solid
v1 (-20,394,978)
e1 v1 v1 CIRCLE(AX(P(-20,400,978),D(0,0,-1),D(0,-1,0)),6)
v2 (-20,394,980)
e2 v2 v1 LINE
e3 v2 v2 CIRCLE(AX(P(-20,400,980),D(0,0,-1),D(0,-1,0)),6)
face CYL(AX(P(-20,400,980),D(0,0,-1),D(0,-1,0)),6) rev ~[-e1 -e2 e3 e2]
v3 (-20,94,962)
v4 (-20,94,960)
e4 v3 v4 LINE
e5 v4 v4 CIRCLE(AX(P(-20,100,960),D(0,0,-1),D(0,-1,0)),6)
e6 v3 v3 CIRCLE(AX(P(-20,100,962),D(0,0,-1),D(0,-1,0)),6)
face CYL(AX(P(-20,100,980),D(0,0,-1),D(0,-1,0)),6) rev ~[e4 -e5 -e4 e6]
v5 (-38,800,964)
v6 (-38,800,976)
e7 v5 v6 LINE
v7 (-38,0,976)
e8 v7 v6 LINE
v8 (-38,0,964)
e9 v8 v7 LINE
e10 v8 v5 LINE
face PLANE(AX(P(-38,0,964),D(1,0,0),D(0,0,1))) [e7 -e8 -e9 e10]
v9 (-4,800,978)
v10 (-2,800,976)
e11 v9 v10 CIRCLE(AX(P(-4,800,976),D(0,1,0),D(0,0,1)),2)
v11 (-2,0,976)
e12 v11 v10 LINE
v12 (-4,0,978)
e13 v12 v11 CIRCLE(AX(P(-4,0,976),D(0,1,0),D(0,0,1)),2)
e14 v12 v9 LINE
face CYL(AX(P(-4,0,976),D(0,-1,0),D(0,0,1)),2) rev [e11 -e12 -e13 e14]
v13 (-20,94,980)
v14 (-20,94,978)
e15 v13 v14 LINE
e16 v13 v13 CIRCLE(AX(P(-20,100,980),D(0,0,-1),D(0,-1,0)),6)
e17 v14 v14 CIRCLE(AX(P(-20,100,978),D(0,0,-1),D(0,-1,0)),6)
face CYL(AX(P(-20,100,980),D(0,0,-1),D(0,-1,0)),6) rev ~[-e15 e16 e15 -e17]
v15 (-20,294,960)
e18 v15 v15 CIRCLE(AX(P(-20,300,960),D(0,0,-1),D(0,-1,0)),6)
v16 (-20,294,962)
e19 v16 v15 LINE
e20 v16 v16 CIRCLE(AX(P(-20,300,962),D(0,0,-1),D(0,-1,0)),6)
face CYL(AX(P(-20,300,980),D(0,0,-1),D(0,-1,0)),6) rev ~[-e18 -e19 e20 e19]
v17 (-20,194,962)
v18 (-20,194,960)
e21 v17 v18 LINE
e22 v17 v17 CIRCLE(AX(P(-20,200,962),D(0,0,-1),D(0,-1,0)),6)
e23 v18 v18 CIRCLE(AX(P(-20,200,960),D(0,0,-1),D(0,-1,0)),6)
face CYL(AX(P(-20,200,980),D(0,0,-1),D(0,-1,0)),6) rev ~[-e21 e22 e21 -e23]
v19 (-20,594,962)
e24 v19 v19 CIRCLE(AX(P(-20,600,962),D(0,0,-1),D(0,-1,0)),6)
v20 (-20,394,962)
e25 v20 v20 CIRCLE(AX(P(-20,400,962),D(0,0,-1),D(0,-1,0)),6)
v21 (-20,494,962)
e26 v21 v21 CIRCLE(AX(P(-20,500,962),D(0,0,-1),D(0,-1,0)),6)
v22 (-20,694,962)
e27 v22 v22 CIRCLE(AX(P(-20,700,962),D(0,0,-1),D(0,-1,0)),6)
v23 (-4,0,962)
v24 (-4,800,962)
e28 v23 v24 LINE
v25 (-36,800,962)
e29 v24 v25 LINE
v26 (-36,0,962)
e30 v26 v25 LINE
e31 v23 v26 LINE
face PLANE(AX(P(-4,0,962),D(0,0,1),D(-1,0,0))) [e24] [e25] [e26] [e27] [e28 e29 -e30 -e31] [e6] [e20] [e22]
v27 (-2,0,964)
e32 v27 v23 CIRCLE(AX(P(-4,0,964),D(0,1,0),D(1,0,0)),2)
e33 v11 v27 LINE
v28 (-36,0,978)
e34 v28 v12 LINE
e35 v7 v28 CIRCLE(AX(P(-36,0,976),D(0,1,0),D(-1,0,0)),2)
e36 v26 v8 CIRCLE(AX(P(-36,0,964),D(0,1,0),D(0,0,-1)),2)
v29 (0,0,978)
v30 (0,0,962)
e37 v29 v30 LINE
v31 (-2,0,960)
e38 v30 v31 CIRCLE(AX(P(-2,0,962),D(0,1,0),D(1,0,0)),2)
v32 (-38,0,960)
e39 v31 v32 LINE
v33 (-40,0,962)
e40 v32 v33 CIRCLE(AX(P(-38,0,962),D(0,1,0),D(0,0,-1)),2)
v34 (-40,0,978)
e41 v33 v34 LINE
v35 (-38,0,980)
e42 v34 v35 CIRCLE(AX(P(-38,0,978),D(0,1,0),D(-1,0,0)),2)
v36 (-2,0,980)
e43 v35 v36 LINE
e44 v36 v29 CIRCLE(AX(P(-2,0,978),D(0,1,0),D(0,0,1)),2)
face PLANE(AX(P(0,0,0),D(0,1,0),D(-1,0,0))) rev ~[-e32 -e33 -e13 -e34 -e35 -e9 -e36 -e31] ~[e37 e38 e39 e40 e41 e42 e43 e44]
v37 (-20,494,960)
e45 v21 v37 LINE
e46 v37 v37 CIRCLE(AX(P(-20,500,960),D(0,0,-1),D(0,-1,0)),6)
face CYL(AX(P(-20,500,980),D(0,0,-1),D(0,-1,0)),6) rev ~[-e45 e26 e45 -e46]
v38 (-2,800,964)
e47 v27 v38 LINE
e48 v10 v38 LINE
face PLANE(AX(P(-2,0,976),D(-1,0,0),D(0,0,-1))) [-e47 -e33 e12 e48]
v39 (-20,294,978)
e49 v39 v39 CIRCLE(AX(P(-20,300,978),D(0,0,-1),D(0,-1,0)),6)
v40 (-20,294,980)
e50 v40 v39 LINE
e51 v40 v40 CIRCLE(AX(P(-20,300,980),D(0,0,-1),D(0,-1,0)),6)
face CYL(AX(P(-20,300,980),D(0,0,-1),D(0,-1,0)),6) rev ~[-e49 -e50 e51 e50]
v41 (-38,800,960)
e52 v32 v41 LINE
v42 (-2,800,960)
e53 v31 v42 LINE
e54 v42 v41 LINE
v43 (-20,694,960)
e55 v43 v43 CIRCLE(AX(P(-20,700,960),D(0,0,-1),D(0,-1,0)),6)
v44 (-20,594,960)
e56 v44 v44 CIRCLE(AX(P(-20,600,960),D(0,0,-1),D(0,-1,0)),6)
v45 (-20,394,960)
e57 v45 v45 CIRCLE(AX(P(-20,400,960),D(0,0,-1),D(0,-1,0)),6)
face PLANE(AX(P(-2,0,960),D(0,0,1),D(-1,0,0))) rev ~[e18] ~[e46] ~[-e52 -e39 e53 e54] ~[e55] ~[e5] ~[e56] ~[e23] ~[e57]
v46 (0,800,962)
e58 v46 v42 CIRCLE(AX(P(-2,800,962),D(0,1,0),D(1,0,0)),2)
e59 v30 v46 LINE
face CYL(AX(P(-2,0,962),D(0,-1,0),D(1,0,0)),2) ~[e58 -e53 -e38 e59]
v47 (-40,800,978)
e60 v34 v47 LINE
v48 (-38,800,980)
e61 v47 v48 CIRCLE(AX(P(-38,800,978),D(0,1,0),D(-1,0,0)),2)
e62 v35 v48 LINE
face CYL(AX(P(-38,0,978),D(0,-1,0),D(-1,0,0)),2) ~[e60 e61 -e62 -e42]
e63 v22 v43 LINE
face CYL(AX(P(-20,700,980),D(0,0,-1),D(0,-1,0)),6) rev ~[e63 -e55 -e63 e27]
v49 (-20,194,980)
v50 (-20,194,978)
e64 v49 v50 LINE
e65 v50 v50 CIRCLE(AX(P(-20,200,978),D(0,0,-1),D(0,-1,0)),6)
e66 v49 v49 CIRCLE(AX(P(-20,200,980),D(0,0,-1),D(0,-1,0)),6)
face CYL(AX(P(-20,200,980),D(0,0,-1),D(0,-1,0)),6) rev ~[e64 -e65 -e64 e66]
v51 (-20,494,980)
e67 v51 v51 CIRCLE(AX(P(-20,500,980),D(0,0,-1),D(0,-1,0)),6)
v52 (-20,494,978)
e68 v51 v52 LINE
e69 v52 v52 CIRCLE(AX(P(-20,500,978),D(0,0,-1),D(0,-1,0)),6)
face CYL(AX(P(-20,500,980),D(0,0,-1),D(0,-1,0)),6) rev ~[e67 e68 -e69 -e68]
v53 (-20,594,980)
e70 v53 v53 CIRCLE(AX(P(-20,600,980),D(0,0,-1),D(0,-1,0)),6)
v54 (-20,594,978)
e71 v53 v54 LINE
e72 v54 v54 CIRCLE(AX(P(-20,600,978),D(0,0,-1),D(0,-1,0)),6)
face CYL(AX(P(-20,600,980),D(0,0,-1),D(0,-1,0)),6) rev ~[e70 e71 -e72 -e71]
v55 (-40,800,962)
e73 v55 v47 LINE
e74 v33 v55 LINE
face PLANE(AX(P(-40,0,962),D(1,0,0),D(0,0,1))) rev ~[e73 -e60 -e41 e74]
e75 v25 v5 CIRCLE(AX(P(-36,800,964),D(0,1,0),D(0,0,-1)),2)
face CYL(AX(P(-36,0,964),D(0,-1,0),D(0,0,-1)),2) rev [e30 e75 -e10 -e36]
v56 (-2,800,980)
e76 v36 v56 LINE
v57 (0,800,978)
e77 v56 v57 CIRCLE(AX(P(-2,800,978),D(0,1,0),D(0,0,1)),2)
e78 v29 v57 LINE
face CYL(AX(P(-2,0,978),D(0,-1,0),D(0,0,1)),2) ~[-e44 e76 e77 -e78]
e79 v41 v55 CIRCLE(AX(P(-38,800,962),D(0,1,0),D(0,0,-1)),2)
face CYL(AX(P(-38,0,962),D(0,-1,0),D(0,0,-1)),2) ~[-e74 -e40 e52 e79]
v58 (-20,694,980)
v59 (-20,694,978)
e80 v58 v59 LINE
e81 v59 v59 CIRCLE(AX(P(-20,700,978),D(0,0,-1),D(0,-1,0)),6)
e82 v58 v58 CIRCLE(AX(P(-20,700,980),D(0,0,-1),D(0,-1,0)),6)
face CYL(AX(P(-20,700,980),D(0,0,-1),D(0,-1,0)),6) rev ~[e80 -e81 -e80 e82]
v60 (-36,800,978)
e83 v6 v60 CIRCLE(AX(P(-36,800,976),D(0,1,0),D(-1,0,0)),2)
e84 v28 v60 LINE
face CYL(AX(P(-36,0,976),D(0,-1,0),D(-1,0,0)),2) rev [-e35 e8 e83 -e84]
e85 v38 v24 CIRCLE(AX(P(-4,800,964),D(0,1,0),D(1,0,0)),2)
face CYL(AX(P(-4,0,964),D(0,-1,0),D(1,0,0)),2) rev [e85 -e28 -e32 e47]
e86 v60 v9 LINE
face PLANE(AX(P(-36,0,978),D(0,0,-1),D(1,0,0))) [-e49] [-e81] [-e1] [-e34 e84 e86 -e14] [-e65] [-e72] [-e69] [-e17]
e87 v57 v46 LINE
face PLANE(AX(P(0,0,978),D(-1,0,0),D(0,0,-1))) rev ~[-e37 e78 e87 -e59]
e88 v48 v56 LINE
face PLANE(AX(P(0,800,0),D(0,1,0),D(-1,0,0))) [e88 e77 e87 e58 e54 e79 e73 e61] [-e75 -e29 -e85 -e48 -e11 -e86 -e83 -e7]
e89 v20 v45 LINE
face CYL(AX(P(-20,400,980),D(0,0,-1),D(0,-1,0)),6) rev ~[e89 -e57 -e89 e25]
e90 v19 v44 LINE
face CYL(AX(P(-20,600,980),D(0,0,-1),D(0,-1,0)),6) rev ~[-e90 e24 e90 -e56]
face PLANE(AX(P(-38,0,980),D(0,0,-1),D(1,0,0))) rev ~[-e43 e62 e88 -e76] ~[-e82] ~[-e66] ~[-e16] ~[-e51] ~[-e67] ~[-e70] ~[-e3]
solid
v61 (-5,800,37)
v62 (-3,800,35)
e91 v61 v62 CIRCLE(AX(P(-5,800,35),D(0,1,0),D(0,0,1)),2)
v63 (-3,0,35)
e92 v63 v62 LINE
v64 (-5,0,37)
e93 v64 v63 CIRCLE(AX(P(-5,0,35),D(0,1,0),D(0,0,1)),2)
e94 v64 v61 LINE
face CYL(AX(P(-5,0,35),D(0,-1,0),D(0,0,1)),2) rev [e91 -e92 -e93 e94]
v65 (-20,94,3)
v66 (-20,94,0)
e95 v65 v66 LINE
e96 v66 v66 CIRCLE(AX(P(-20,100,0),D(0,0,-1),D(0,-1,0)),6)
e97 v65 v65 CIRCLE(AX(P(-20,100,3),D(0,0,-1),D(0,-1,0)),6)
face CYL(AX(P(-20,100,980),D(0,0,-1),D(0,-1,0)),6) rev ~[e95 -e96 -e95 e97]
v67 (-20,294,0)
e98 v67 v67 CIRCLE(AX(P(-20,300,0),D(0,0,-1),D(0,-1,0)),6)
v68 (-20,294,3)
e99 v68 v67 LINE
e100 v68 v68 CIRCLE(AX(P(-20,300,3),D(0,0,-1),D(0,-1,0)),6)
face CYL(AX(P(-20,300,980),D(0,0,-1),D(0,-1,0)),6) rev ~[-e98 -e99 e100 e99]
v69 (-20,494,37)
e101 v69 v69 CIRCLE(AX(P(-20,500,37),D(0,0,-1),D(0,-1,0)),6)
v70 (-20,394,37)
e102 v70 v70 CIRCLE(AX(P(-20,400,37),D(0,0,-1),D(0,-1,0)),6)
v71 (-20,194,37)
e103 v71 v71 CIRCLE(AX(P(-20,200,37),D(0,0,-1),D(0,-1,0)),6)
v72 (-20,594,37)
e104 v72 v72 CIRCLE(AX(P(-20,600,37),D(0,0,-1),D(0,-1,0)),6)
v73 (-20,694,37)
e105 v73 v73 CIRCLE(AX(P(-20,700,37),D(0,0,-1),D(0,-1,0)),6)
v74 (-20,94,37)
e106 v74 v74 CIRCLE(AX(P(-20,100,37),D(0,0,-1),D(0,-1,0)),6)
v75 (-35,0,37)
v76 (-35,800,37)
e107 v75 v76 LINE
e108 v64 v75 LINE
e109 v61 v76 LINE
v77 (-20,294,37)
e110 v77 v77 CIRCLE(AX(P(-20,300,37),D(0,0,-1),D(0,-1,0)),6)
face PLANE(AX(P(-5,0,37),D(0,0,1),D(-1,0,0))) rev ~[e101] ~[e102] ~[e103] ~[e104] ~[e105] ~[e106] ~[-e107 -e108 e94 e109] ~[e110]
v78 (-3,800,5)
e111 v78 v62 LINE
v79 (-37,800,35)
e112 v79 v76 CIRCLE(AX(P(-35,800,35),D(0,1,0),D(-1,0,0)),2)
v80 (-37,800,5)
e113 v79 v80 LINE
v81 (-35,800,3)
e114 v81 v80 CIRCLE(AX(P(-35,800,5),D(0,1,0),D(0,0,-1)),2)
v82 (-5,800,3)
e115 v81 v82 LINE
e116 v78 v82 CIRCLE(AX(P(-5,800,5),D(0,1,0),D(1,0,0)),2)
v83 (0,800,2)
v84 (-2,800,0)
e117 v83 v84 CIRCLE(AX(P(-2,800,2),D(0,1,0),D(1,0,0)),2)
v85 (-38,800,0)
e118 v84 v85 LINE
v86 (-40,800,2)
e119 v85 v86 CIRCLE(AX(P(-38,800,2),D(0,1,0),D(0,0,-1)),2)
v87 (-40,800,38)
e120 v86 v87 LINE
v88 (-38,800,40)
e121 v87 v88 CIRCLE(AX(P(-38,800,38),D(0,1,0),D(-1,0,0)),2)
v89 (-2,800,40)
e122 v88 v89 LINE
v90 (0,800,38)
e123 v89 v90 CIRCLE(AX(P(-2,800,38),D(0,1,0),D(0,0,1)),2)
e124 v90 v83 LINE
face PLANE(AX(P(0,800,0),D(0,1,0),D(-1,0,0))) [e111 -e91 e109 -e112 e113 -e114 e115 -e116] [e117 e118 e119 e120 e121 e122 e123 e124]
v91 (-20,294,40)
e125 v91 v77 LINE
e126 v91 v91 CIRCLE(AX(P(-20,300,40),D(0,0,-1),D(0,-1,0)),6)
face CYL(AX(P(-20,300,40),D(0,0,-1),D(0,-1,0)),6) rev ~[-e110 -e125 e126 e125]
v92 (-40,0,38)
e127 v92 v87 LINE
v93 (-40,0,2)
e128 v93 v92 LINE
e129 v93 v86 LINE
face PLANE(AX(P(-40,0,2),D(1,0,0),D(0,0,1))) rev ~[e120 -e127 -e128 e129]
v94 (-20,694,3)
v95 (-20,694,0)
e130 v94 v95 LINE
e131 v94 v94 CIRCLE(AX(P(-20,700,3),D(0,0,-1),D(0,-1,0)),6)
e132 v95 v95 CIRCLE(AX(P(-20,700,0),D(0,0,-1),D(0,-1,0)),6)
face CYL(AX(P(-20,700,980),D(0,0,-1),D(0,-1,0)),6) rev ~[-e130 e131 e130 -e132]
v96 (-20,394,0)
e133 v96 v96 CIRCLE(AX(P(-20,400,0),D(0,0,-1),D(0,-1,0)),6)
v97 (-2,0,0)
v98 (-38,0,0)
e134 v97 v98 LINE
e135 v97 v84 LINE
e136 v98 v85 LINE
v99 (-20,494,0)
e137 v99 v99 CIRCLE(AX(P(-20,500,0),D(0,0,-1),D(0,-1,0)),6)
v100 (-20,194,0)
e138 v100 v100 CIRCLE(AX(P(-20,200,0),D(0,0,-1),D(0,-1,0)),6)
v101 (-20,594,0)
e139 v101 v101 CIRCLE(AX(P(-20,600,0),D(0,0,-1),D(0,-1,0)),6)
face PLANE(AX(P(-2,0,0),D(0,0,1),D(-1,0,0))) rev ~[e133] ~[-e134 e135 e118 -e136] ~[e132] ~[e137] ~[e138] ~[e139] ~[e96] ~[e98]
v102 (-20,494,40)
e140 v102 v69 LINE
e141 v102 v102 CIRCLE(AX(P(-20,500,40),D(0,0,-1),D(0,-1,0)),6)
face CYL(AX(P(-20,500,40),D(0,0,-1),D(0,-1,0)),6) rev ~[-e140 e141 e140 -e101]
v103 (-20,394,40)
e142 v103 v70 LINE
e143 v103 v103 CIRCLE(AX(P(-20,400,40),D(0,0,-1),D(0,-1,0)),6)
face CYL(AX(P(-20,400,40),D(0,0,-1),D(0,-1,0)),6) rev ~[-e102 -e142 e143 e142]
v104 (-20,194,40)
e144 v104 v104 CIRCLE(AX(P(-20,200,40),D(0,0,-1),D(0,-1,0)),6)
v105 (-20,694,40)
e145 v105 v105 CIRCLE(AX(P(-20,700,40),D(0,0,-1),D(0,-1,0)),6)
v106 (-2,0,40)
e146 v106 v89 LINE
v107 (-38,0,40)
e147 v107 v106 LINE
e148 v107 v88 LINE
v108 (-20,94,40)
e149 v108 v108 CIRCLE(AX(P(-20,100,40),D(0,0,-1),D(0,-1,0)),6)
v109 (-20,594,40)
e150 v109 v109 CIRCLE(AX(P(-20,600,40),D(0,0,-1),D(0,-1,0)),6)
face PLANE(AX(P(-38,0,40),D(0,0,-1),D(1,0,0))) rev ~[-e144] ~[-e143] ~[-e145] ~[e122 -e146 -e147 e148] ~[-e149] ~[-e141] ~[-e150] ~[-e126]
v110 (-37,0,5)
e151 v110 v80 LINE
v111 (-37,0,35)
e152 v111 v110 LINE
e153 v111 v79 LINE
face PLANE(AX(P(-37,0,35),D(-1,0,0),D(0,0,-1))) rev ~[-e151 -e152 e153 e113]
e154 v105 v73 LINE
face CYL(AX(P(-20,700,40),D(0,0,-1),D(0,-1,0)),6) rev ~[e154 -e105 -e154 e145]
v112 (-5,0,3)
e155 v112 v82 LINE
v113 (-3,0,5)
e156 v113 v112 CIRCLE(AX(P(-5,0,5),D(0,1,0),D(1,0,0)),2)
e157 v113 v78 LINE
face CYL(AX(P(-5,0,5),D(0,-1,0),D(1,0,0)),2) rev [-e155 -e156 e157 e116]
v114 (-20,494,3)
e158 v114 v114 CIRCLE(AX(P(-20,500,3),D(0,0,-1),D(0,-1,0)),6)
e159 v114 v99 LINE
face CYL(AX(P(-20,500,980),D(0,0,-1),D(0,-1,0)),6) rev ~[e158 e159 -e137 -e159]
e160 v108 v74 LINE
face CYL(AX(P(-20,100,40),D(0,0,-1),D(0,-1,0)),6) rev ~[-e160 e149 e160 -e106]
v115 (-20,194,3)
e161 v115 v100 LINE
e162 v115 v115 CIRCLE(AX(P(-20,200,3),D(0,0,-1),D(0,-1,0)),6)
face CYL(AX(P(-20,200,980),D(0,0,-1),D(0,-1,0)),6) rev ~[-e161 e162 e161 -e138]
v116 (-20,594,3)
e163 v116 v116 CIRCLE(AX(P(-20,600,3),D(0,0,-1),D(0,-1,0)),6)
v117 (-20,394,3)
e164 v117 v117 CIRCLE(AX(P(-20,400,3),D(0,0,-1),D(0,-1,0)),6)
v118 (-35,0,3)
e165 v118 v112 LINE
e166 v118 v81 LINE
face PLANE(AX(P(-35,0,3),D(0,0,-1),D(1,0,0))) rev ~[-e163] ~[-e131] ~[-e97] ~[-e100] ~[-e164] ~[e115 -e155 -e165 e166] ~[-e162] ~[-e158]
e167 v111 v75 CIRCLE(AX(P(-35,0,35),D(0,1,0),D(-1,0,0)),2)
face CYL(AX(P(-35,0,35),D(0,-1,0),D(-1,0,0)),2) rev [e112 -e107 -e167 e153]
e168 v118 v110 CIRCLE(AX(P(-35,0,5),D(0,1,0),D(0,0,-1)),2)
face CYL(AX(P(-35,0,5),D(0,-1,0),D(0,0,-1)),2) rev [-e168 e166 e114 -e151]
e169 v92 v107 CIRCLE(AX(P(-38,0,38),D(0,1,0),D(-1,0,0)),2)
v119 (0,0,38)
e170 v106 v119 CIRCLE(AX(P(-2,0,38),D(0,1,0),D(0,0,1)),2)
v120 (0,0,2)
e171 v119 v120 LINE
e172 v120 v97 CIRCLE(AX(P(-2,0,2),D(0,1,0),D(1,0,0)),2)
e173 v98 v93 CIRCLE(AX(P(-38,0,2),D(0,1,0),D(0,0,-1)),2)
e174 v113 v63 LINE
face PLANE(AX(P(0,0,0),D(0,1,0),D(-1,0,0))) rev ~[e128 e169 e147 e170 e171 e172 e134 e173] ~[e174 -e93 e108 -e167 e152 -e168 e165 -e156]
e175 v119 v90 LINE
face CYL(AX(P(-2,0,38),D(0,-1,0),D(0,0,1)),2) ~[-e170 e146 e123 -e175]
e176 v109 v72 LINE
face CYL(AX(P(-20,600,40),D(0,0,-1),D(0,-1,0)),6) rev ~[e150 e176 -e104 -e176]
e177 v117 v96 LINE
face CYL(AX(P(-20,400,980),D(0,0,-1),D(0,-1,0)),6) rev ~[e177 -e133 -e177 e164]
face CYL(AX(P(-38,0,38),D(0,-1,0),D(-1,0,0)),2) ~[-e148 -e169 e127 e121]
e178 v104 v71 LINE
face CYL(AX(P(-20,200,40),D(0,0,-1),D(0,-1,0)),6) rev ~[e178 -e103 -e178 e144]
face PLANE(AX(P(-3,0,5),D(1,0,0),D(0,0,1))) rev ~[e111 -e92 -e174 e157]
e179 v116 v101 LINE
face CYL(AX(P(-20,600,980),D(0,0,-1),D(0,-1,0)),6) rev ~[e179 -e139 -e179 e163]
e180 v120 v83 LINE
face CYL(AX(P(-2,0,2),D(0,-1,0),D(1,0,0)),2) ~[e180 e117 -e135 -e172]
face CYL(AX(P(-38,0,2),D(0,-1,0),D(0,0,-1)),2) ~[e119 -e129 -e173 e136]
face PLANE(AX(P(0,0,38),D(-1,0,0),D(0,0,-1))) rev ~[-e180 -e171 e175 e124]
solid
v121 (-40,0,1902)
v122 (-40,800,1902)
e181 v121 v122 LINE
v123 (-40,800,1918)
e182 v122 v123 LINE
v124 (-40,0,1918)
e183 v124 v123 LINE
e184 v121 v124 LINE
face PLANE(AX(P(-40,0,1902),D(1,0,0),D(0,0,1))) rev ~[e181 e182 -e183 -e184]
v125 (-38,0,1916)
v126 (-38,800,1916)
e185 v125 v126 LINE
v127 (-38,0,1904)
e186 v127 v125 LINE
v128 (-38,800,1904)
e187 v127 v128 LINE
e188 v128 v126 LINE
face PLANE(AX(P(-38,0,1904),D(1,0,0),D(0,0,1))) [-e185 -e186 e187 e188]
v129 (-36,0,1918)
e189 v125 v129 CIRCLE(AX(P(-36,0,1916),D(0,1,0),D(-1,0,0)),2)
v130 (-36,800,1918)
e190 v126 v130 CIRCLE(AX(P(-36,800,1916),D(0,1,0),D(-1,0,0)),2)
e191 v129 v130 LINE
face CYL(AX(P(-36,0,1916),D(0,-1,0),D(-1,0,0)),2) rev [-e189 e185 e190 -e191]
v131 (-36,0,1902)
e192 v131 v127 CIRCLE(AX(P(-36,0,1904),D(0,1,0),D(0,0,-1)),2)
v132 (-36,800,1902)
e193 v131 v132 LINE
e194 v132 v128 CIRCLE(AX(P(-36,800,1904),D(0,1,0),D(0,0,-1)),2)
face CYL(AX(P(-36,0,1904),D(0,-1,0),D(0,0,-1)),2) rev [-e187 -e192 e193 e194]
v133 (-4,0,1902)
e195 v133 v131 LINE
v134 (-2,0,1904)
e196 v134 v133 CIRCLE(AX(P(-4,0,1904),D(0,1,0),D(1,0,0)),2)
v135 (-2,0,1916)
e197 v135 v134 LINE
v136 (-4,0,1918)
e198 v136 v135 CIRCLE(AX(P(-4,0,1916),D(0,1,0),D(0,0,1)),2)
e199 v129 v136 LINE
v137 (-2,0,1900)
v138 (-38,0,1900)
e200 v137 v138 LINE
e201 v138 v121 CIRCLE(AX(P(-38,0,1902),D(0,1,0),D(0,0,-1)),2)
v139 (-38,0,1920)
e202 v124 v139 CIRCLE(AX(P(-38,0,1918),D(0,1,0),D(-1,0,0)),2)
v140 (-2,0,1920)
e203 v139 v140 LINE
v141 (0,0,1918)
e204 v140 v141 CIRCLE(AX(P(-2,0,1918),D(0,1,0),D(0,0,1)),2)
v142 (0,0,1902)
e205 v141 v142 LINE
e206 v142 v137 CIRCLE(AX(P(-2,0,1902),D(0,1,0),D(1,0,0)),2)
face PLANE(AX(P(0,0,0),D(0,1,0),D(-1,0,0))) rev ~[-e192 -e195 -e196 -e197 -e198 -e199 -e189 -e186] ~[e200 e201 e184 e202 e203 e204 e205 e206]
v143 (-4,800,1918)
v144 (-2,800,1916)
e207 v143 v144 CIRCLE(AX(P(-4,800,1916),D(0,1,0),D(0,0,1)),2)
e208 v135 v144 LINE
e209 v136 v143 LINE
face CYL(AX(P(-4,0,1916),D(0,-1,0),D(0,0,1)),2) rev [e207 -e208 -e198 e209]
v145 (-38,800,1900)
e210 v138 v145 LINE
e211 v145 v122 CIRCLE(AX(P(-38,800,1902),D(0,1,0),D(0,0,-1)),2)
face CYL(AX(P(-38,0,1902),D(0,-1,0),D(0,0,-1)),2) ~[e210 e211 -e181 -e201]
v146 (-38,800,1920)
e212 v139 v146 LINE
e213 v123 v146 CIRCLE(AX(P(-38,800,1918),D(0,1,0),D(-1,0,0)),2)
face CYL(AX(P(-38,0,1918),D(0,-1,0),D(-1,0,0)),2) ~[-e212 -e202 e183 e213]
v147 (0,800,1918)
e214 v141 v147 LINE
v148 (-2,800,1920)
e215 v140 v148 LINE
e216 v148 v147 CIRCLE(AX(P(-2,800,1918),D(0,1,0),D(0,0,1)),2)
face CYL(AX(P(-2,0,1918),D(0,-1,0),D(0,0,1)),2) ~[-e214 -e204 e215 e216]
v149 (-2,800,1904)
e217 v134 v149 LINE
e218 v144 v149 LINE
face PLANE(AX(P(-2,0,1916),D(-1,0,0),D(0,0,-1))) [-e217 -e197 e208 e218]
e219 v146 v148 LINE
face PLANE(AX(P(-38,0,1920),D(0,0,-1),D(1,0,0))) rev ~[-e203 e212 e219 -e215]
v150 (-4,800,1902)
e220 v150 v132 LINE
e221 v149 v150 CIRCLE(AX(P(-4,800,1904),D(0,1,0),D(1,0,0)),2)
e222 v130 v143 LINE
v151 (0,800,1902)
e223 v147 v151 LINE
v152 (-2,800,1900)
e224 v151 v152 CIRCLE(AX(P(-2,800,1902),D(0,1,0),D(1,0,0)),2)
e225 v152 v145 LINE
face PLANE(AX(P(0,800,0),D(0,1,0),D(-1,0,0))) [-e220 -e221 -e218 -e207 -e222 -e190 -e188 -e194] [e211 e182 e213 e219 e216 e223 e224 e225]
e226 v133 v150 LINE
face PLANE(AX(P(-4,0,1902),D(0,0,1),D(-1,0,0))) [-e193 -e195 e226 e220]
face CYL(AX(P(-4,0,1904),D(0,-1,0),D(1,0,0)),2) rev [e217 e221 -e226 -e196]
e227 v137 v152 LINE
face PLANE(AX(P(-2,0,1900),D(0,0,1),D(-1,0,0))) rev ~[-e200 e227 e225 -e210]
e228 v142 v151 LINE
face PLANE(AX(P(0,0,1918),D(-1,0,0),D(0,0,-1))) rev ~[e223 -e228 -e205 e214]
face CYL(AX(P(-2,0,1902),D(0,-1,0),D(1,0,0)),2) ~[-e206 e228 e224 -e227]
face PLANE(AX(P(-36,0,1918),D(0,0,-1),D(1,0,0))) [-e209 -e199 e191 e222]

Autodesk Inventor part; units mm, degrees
ref_plane "YZ Plane" through (0, 0, 0) normal (1, 0, 0) x (0, 1, 0)
ref_plane "XZ Plane" through (0, 0, 0) normal (0, 1, 0) x (-1, 0, 0)
ref_plane "XY Plane" through (0, 0, 0) normal (0, 0, 1) x (1, 0, 0)
sketch "Sketch1" plane through (0, 0, 0) normal (0, 1, 0) x (-1, 0, 0)
  line L0 (2, 0) -> (38, 0)
  line L1 (40, 2) -> (40, 38)
  line L2 (38, 40) -> (2, 40)
  line L3 (0, 38) -> (0, 2)
  line L4 (5, 37) -> (35, 37)
  line L5 (37, 35) -> (37, 5)
  line L6 (35, 3) -> (5, 3)
  line L7 (3, 5) -> (3, 35)
  arc A0 (5, 37) -> (3, 35) centre (5, 35) ccw
  arc A1 (37, 35) -> (35, 37) centre (35, 35) ccw
  arc A2 (3, 5) -> (5, 3) centre (5, 5) ccw
  arc A3 (35, 3) -> (37, 5) centre (35, 5) ccw
  arc A4 (38, 0) -> (40, 2) centre (38, 2) ccw
  arc A5 (0, 2) -> (2, 0) centre (2, 2) ccw
  arc A6 (2, 40) -> (0, 38) centre (2, 38) ccw
  arc A7 (40, 38) -> (38, 40) centre (38, 38) ccw
  point P0 (0, 0)
  point P1 (40, 40)
  point P2 (40, 0)
  point P3 (0, 40)
  dimension "d0" = 40
  dimension "d1" = 40
  dimension "d2" = 3
  dimension "d3" = 3
  dimension "d4" = 3
  dimension "d5" = 3
  dimension "d6" = 2
extrude "Extrusion1" add sketch "Sketch1" along normal blind 800
sketch "Sketch2" plane through (-38, 0, 40) normal (0, 0, 1) x (1, 0, 0)
  line L0 (0, 0) -> (0, 800) projected
  line L1 (-2, 0) -> (-2, 800) projected
  line L2 (0, 800) -> (36, 800) projected
  point P0 (38, 0)
  point P1 (18, 700)
  point P2 (18, 800)
  point P3 (18, 600)
  point P4 (18, 500)
  point P5 (18, 400)
  point P6 (18, 300)
  point P7 (18, 200)
  point P8 (18, 100)
  dimension "d10" = 20
  dimension "d11" = 100
  dimension "d14" = 100
hole "Hole1" at (-20, 600, 40) at (-20, 500, 40) at (-20, 400, 40) at (-20, 300, 40) at (-20, 200, 40) at (-20, 100, 40) at (-20, 700, 40) direction (0, 0, -1) diameter 12 depth 8 tip angle 118
sketch "Sketch3" plane through (0, 0, 0) normal (0, 1, 0) x (-1, 0, 0)
  line L0 (2, 960) -> (38, 960)
  line L1 (40, 962) -> (40, 978)
  line L2 (38, 980) -> (2, 980)
  line L3 (0, 978) -> (0, 962)
  line L4 (4, 962) -> (36, 962)
  line L5 (38, 964) -> (38, 976)
  line L6 (36, 978) -> (4, 978)
  line L7 (2, 976) -> (2, 964)
  line L8 (38, 40) -> (2, 40) projected
  line L9 (0, 38) -> (0, 2) projected
  arc A0 (2, 964) -> (4, 962) centre (4, 964) ccw
  arc A1 (0, 962) -> (2, 960) centre (2, 962) ccw
  arc A2 (38, 960) -> (40, 962) centre (38, 962) ccw
  arc A3 (36, 962) -> (38, 964) centre (36, 964) ccw
  arc A4 (40, 978) -> (38, 980) centre (38, 978) ccw
  arc A5 (38, 976) -> (36, 978) centre (36, 976) ccw
  arc A6 (4, 978) -> (2, 976) centre (4, 976) ccw
  arc A7 (2, 980) -> (0, 978) centre (2, 978) ccw
  line L10 (2, 1900) -> (38, 1900)
  line L11 (40, 1902) -> (40, 1918)
  line L12 (38, 1920) -> (2, 1920)
  line L13 (0, 1918) -> (0, 1902)
  line L14 (4, 1902) -> (36, 1902)
  line L15 (38, 1904) -> (38, 1916)
  line L16 (36, 1918) -> (4, 1918)
  line L17 (2, 1916) -> (2, 1904)
  arc A8 (2, 1904) -> (4, 1902) centre (4, 1904) ccw
  arc A9 (0, 1902) -> (2, 1900) centre (2, 1902) ccw
  arc A10 (38, 1900) -> (40, 1902) centre (38, 1902) ccw
  arc A11 (36, 1902) -> (38, 1904) centre (36, 1904) ccw
  arc A12 (40, 1918) -> (38, 1920) centre (38, 1918) ccw
  arc A13 (38, 1916) -> (36, 1918) centre (36, 1916) ccw
  arc A14 (4, 1918) -> (2, 1916) centre (4, 1916) ccw
  arc A15 (2, 1920) -> (0, 1918) centre (2, 1918) ccw
  point P0 (0, 0)
  point P1 (40, 980)
  point P2 (40, 960)
  point P3 (0, 980)
  point P4 (20, 40)
  point P5 (40, 1920)
  point P6 (40, 1900)
  point P7 (0, 1920)
  point P8 (20, 980)
  dimension "d26" = 40
  dimension "d27" = 20
  dimension "d28" = 920
  dimension "d29" = 0
  dimension "d30" = 2
  dimension "d31" = 2
  dimension "d32" = 2
  dimension "d33" = 2
  dimension "d34" = 2
  dimension "d53" = 40
  dimension "d54" = 20
  dimension "d55" = 2
  dimension "d56" = 2
  dimension "d57" = 2
  dimension "d58" = 2
  dimension "d59" = 2
  dimension "d60" = 920
ref_plane "Work Plane1" through (-38, 0, 980) normal (0, 0, 1) x (1, 0, 0)
sketch "Sketch4" plane through (-38, 0, 980) normal (0, 0, 1) x (1, 0, 0)
  line L0 (0, 800) -> (36, 800) projected
  line L1 (-2, 0) -> (-2, 800) projected
  point P0 (38, 0)
  point P1 (18, 700)
  point P2 (18, 600)
  point P3 (18, 500)
  point P4 (18, 400)
  point P5 (18, 300)
  point P6 (18, 200)
  point P7 (18, 100)
  dimension "d37" = 100
  dimension "d38" = 20
  dimension "d41" = 100
extrude "Extrusion3" add sketch "Sketch3" along normal blind 800
hole "Hole3" at (-20, 700, 980) at (-20, 600, 980) at (-20, 500, 980) at (-20, 400, 980) at (-20, 300, 980) at (-20, 200, 980) at (-20, 100, 980) direction (0, 0, -1) diameter 12 end through all
properties part number "korlat1"
